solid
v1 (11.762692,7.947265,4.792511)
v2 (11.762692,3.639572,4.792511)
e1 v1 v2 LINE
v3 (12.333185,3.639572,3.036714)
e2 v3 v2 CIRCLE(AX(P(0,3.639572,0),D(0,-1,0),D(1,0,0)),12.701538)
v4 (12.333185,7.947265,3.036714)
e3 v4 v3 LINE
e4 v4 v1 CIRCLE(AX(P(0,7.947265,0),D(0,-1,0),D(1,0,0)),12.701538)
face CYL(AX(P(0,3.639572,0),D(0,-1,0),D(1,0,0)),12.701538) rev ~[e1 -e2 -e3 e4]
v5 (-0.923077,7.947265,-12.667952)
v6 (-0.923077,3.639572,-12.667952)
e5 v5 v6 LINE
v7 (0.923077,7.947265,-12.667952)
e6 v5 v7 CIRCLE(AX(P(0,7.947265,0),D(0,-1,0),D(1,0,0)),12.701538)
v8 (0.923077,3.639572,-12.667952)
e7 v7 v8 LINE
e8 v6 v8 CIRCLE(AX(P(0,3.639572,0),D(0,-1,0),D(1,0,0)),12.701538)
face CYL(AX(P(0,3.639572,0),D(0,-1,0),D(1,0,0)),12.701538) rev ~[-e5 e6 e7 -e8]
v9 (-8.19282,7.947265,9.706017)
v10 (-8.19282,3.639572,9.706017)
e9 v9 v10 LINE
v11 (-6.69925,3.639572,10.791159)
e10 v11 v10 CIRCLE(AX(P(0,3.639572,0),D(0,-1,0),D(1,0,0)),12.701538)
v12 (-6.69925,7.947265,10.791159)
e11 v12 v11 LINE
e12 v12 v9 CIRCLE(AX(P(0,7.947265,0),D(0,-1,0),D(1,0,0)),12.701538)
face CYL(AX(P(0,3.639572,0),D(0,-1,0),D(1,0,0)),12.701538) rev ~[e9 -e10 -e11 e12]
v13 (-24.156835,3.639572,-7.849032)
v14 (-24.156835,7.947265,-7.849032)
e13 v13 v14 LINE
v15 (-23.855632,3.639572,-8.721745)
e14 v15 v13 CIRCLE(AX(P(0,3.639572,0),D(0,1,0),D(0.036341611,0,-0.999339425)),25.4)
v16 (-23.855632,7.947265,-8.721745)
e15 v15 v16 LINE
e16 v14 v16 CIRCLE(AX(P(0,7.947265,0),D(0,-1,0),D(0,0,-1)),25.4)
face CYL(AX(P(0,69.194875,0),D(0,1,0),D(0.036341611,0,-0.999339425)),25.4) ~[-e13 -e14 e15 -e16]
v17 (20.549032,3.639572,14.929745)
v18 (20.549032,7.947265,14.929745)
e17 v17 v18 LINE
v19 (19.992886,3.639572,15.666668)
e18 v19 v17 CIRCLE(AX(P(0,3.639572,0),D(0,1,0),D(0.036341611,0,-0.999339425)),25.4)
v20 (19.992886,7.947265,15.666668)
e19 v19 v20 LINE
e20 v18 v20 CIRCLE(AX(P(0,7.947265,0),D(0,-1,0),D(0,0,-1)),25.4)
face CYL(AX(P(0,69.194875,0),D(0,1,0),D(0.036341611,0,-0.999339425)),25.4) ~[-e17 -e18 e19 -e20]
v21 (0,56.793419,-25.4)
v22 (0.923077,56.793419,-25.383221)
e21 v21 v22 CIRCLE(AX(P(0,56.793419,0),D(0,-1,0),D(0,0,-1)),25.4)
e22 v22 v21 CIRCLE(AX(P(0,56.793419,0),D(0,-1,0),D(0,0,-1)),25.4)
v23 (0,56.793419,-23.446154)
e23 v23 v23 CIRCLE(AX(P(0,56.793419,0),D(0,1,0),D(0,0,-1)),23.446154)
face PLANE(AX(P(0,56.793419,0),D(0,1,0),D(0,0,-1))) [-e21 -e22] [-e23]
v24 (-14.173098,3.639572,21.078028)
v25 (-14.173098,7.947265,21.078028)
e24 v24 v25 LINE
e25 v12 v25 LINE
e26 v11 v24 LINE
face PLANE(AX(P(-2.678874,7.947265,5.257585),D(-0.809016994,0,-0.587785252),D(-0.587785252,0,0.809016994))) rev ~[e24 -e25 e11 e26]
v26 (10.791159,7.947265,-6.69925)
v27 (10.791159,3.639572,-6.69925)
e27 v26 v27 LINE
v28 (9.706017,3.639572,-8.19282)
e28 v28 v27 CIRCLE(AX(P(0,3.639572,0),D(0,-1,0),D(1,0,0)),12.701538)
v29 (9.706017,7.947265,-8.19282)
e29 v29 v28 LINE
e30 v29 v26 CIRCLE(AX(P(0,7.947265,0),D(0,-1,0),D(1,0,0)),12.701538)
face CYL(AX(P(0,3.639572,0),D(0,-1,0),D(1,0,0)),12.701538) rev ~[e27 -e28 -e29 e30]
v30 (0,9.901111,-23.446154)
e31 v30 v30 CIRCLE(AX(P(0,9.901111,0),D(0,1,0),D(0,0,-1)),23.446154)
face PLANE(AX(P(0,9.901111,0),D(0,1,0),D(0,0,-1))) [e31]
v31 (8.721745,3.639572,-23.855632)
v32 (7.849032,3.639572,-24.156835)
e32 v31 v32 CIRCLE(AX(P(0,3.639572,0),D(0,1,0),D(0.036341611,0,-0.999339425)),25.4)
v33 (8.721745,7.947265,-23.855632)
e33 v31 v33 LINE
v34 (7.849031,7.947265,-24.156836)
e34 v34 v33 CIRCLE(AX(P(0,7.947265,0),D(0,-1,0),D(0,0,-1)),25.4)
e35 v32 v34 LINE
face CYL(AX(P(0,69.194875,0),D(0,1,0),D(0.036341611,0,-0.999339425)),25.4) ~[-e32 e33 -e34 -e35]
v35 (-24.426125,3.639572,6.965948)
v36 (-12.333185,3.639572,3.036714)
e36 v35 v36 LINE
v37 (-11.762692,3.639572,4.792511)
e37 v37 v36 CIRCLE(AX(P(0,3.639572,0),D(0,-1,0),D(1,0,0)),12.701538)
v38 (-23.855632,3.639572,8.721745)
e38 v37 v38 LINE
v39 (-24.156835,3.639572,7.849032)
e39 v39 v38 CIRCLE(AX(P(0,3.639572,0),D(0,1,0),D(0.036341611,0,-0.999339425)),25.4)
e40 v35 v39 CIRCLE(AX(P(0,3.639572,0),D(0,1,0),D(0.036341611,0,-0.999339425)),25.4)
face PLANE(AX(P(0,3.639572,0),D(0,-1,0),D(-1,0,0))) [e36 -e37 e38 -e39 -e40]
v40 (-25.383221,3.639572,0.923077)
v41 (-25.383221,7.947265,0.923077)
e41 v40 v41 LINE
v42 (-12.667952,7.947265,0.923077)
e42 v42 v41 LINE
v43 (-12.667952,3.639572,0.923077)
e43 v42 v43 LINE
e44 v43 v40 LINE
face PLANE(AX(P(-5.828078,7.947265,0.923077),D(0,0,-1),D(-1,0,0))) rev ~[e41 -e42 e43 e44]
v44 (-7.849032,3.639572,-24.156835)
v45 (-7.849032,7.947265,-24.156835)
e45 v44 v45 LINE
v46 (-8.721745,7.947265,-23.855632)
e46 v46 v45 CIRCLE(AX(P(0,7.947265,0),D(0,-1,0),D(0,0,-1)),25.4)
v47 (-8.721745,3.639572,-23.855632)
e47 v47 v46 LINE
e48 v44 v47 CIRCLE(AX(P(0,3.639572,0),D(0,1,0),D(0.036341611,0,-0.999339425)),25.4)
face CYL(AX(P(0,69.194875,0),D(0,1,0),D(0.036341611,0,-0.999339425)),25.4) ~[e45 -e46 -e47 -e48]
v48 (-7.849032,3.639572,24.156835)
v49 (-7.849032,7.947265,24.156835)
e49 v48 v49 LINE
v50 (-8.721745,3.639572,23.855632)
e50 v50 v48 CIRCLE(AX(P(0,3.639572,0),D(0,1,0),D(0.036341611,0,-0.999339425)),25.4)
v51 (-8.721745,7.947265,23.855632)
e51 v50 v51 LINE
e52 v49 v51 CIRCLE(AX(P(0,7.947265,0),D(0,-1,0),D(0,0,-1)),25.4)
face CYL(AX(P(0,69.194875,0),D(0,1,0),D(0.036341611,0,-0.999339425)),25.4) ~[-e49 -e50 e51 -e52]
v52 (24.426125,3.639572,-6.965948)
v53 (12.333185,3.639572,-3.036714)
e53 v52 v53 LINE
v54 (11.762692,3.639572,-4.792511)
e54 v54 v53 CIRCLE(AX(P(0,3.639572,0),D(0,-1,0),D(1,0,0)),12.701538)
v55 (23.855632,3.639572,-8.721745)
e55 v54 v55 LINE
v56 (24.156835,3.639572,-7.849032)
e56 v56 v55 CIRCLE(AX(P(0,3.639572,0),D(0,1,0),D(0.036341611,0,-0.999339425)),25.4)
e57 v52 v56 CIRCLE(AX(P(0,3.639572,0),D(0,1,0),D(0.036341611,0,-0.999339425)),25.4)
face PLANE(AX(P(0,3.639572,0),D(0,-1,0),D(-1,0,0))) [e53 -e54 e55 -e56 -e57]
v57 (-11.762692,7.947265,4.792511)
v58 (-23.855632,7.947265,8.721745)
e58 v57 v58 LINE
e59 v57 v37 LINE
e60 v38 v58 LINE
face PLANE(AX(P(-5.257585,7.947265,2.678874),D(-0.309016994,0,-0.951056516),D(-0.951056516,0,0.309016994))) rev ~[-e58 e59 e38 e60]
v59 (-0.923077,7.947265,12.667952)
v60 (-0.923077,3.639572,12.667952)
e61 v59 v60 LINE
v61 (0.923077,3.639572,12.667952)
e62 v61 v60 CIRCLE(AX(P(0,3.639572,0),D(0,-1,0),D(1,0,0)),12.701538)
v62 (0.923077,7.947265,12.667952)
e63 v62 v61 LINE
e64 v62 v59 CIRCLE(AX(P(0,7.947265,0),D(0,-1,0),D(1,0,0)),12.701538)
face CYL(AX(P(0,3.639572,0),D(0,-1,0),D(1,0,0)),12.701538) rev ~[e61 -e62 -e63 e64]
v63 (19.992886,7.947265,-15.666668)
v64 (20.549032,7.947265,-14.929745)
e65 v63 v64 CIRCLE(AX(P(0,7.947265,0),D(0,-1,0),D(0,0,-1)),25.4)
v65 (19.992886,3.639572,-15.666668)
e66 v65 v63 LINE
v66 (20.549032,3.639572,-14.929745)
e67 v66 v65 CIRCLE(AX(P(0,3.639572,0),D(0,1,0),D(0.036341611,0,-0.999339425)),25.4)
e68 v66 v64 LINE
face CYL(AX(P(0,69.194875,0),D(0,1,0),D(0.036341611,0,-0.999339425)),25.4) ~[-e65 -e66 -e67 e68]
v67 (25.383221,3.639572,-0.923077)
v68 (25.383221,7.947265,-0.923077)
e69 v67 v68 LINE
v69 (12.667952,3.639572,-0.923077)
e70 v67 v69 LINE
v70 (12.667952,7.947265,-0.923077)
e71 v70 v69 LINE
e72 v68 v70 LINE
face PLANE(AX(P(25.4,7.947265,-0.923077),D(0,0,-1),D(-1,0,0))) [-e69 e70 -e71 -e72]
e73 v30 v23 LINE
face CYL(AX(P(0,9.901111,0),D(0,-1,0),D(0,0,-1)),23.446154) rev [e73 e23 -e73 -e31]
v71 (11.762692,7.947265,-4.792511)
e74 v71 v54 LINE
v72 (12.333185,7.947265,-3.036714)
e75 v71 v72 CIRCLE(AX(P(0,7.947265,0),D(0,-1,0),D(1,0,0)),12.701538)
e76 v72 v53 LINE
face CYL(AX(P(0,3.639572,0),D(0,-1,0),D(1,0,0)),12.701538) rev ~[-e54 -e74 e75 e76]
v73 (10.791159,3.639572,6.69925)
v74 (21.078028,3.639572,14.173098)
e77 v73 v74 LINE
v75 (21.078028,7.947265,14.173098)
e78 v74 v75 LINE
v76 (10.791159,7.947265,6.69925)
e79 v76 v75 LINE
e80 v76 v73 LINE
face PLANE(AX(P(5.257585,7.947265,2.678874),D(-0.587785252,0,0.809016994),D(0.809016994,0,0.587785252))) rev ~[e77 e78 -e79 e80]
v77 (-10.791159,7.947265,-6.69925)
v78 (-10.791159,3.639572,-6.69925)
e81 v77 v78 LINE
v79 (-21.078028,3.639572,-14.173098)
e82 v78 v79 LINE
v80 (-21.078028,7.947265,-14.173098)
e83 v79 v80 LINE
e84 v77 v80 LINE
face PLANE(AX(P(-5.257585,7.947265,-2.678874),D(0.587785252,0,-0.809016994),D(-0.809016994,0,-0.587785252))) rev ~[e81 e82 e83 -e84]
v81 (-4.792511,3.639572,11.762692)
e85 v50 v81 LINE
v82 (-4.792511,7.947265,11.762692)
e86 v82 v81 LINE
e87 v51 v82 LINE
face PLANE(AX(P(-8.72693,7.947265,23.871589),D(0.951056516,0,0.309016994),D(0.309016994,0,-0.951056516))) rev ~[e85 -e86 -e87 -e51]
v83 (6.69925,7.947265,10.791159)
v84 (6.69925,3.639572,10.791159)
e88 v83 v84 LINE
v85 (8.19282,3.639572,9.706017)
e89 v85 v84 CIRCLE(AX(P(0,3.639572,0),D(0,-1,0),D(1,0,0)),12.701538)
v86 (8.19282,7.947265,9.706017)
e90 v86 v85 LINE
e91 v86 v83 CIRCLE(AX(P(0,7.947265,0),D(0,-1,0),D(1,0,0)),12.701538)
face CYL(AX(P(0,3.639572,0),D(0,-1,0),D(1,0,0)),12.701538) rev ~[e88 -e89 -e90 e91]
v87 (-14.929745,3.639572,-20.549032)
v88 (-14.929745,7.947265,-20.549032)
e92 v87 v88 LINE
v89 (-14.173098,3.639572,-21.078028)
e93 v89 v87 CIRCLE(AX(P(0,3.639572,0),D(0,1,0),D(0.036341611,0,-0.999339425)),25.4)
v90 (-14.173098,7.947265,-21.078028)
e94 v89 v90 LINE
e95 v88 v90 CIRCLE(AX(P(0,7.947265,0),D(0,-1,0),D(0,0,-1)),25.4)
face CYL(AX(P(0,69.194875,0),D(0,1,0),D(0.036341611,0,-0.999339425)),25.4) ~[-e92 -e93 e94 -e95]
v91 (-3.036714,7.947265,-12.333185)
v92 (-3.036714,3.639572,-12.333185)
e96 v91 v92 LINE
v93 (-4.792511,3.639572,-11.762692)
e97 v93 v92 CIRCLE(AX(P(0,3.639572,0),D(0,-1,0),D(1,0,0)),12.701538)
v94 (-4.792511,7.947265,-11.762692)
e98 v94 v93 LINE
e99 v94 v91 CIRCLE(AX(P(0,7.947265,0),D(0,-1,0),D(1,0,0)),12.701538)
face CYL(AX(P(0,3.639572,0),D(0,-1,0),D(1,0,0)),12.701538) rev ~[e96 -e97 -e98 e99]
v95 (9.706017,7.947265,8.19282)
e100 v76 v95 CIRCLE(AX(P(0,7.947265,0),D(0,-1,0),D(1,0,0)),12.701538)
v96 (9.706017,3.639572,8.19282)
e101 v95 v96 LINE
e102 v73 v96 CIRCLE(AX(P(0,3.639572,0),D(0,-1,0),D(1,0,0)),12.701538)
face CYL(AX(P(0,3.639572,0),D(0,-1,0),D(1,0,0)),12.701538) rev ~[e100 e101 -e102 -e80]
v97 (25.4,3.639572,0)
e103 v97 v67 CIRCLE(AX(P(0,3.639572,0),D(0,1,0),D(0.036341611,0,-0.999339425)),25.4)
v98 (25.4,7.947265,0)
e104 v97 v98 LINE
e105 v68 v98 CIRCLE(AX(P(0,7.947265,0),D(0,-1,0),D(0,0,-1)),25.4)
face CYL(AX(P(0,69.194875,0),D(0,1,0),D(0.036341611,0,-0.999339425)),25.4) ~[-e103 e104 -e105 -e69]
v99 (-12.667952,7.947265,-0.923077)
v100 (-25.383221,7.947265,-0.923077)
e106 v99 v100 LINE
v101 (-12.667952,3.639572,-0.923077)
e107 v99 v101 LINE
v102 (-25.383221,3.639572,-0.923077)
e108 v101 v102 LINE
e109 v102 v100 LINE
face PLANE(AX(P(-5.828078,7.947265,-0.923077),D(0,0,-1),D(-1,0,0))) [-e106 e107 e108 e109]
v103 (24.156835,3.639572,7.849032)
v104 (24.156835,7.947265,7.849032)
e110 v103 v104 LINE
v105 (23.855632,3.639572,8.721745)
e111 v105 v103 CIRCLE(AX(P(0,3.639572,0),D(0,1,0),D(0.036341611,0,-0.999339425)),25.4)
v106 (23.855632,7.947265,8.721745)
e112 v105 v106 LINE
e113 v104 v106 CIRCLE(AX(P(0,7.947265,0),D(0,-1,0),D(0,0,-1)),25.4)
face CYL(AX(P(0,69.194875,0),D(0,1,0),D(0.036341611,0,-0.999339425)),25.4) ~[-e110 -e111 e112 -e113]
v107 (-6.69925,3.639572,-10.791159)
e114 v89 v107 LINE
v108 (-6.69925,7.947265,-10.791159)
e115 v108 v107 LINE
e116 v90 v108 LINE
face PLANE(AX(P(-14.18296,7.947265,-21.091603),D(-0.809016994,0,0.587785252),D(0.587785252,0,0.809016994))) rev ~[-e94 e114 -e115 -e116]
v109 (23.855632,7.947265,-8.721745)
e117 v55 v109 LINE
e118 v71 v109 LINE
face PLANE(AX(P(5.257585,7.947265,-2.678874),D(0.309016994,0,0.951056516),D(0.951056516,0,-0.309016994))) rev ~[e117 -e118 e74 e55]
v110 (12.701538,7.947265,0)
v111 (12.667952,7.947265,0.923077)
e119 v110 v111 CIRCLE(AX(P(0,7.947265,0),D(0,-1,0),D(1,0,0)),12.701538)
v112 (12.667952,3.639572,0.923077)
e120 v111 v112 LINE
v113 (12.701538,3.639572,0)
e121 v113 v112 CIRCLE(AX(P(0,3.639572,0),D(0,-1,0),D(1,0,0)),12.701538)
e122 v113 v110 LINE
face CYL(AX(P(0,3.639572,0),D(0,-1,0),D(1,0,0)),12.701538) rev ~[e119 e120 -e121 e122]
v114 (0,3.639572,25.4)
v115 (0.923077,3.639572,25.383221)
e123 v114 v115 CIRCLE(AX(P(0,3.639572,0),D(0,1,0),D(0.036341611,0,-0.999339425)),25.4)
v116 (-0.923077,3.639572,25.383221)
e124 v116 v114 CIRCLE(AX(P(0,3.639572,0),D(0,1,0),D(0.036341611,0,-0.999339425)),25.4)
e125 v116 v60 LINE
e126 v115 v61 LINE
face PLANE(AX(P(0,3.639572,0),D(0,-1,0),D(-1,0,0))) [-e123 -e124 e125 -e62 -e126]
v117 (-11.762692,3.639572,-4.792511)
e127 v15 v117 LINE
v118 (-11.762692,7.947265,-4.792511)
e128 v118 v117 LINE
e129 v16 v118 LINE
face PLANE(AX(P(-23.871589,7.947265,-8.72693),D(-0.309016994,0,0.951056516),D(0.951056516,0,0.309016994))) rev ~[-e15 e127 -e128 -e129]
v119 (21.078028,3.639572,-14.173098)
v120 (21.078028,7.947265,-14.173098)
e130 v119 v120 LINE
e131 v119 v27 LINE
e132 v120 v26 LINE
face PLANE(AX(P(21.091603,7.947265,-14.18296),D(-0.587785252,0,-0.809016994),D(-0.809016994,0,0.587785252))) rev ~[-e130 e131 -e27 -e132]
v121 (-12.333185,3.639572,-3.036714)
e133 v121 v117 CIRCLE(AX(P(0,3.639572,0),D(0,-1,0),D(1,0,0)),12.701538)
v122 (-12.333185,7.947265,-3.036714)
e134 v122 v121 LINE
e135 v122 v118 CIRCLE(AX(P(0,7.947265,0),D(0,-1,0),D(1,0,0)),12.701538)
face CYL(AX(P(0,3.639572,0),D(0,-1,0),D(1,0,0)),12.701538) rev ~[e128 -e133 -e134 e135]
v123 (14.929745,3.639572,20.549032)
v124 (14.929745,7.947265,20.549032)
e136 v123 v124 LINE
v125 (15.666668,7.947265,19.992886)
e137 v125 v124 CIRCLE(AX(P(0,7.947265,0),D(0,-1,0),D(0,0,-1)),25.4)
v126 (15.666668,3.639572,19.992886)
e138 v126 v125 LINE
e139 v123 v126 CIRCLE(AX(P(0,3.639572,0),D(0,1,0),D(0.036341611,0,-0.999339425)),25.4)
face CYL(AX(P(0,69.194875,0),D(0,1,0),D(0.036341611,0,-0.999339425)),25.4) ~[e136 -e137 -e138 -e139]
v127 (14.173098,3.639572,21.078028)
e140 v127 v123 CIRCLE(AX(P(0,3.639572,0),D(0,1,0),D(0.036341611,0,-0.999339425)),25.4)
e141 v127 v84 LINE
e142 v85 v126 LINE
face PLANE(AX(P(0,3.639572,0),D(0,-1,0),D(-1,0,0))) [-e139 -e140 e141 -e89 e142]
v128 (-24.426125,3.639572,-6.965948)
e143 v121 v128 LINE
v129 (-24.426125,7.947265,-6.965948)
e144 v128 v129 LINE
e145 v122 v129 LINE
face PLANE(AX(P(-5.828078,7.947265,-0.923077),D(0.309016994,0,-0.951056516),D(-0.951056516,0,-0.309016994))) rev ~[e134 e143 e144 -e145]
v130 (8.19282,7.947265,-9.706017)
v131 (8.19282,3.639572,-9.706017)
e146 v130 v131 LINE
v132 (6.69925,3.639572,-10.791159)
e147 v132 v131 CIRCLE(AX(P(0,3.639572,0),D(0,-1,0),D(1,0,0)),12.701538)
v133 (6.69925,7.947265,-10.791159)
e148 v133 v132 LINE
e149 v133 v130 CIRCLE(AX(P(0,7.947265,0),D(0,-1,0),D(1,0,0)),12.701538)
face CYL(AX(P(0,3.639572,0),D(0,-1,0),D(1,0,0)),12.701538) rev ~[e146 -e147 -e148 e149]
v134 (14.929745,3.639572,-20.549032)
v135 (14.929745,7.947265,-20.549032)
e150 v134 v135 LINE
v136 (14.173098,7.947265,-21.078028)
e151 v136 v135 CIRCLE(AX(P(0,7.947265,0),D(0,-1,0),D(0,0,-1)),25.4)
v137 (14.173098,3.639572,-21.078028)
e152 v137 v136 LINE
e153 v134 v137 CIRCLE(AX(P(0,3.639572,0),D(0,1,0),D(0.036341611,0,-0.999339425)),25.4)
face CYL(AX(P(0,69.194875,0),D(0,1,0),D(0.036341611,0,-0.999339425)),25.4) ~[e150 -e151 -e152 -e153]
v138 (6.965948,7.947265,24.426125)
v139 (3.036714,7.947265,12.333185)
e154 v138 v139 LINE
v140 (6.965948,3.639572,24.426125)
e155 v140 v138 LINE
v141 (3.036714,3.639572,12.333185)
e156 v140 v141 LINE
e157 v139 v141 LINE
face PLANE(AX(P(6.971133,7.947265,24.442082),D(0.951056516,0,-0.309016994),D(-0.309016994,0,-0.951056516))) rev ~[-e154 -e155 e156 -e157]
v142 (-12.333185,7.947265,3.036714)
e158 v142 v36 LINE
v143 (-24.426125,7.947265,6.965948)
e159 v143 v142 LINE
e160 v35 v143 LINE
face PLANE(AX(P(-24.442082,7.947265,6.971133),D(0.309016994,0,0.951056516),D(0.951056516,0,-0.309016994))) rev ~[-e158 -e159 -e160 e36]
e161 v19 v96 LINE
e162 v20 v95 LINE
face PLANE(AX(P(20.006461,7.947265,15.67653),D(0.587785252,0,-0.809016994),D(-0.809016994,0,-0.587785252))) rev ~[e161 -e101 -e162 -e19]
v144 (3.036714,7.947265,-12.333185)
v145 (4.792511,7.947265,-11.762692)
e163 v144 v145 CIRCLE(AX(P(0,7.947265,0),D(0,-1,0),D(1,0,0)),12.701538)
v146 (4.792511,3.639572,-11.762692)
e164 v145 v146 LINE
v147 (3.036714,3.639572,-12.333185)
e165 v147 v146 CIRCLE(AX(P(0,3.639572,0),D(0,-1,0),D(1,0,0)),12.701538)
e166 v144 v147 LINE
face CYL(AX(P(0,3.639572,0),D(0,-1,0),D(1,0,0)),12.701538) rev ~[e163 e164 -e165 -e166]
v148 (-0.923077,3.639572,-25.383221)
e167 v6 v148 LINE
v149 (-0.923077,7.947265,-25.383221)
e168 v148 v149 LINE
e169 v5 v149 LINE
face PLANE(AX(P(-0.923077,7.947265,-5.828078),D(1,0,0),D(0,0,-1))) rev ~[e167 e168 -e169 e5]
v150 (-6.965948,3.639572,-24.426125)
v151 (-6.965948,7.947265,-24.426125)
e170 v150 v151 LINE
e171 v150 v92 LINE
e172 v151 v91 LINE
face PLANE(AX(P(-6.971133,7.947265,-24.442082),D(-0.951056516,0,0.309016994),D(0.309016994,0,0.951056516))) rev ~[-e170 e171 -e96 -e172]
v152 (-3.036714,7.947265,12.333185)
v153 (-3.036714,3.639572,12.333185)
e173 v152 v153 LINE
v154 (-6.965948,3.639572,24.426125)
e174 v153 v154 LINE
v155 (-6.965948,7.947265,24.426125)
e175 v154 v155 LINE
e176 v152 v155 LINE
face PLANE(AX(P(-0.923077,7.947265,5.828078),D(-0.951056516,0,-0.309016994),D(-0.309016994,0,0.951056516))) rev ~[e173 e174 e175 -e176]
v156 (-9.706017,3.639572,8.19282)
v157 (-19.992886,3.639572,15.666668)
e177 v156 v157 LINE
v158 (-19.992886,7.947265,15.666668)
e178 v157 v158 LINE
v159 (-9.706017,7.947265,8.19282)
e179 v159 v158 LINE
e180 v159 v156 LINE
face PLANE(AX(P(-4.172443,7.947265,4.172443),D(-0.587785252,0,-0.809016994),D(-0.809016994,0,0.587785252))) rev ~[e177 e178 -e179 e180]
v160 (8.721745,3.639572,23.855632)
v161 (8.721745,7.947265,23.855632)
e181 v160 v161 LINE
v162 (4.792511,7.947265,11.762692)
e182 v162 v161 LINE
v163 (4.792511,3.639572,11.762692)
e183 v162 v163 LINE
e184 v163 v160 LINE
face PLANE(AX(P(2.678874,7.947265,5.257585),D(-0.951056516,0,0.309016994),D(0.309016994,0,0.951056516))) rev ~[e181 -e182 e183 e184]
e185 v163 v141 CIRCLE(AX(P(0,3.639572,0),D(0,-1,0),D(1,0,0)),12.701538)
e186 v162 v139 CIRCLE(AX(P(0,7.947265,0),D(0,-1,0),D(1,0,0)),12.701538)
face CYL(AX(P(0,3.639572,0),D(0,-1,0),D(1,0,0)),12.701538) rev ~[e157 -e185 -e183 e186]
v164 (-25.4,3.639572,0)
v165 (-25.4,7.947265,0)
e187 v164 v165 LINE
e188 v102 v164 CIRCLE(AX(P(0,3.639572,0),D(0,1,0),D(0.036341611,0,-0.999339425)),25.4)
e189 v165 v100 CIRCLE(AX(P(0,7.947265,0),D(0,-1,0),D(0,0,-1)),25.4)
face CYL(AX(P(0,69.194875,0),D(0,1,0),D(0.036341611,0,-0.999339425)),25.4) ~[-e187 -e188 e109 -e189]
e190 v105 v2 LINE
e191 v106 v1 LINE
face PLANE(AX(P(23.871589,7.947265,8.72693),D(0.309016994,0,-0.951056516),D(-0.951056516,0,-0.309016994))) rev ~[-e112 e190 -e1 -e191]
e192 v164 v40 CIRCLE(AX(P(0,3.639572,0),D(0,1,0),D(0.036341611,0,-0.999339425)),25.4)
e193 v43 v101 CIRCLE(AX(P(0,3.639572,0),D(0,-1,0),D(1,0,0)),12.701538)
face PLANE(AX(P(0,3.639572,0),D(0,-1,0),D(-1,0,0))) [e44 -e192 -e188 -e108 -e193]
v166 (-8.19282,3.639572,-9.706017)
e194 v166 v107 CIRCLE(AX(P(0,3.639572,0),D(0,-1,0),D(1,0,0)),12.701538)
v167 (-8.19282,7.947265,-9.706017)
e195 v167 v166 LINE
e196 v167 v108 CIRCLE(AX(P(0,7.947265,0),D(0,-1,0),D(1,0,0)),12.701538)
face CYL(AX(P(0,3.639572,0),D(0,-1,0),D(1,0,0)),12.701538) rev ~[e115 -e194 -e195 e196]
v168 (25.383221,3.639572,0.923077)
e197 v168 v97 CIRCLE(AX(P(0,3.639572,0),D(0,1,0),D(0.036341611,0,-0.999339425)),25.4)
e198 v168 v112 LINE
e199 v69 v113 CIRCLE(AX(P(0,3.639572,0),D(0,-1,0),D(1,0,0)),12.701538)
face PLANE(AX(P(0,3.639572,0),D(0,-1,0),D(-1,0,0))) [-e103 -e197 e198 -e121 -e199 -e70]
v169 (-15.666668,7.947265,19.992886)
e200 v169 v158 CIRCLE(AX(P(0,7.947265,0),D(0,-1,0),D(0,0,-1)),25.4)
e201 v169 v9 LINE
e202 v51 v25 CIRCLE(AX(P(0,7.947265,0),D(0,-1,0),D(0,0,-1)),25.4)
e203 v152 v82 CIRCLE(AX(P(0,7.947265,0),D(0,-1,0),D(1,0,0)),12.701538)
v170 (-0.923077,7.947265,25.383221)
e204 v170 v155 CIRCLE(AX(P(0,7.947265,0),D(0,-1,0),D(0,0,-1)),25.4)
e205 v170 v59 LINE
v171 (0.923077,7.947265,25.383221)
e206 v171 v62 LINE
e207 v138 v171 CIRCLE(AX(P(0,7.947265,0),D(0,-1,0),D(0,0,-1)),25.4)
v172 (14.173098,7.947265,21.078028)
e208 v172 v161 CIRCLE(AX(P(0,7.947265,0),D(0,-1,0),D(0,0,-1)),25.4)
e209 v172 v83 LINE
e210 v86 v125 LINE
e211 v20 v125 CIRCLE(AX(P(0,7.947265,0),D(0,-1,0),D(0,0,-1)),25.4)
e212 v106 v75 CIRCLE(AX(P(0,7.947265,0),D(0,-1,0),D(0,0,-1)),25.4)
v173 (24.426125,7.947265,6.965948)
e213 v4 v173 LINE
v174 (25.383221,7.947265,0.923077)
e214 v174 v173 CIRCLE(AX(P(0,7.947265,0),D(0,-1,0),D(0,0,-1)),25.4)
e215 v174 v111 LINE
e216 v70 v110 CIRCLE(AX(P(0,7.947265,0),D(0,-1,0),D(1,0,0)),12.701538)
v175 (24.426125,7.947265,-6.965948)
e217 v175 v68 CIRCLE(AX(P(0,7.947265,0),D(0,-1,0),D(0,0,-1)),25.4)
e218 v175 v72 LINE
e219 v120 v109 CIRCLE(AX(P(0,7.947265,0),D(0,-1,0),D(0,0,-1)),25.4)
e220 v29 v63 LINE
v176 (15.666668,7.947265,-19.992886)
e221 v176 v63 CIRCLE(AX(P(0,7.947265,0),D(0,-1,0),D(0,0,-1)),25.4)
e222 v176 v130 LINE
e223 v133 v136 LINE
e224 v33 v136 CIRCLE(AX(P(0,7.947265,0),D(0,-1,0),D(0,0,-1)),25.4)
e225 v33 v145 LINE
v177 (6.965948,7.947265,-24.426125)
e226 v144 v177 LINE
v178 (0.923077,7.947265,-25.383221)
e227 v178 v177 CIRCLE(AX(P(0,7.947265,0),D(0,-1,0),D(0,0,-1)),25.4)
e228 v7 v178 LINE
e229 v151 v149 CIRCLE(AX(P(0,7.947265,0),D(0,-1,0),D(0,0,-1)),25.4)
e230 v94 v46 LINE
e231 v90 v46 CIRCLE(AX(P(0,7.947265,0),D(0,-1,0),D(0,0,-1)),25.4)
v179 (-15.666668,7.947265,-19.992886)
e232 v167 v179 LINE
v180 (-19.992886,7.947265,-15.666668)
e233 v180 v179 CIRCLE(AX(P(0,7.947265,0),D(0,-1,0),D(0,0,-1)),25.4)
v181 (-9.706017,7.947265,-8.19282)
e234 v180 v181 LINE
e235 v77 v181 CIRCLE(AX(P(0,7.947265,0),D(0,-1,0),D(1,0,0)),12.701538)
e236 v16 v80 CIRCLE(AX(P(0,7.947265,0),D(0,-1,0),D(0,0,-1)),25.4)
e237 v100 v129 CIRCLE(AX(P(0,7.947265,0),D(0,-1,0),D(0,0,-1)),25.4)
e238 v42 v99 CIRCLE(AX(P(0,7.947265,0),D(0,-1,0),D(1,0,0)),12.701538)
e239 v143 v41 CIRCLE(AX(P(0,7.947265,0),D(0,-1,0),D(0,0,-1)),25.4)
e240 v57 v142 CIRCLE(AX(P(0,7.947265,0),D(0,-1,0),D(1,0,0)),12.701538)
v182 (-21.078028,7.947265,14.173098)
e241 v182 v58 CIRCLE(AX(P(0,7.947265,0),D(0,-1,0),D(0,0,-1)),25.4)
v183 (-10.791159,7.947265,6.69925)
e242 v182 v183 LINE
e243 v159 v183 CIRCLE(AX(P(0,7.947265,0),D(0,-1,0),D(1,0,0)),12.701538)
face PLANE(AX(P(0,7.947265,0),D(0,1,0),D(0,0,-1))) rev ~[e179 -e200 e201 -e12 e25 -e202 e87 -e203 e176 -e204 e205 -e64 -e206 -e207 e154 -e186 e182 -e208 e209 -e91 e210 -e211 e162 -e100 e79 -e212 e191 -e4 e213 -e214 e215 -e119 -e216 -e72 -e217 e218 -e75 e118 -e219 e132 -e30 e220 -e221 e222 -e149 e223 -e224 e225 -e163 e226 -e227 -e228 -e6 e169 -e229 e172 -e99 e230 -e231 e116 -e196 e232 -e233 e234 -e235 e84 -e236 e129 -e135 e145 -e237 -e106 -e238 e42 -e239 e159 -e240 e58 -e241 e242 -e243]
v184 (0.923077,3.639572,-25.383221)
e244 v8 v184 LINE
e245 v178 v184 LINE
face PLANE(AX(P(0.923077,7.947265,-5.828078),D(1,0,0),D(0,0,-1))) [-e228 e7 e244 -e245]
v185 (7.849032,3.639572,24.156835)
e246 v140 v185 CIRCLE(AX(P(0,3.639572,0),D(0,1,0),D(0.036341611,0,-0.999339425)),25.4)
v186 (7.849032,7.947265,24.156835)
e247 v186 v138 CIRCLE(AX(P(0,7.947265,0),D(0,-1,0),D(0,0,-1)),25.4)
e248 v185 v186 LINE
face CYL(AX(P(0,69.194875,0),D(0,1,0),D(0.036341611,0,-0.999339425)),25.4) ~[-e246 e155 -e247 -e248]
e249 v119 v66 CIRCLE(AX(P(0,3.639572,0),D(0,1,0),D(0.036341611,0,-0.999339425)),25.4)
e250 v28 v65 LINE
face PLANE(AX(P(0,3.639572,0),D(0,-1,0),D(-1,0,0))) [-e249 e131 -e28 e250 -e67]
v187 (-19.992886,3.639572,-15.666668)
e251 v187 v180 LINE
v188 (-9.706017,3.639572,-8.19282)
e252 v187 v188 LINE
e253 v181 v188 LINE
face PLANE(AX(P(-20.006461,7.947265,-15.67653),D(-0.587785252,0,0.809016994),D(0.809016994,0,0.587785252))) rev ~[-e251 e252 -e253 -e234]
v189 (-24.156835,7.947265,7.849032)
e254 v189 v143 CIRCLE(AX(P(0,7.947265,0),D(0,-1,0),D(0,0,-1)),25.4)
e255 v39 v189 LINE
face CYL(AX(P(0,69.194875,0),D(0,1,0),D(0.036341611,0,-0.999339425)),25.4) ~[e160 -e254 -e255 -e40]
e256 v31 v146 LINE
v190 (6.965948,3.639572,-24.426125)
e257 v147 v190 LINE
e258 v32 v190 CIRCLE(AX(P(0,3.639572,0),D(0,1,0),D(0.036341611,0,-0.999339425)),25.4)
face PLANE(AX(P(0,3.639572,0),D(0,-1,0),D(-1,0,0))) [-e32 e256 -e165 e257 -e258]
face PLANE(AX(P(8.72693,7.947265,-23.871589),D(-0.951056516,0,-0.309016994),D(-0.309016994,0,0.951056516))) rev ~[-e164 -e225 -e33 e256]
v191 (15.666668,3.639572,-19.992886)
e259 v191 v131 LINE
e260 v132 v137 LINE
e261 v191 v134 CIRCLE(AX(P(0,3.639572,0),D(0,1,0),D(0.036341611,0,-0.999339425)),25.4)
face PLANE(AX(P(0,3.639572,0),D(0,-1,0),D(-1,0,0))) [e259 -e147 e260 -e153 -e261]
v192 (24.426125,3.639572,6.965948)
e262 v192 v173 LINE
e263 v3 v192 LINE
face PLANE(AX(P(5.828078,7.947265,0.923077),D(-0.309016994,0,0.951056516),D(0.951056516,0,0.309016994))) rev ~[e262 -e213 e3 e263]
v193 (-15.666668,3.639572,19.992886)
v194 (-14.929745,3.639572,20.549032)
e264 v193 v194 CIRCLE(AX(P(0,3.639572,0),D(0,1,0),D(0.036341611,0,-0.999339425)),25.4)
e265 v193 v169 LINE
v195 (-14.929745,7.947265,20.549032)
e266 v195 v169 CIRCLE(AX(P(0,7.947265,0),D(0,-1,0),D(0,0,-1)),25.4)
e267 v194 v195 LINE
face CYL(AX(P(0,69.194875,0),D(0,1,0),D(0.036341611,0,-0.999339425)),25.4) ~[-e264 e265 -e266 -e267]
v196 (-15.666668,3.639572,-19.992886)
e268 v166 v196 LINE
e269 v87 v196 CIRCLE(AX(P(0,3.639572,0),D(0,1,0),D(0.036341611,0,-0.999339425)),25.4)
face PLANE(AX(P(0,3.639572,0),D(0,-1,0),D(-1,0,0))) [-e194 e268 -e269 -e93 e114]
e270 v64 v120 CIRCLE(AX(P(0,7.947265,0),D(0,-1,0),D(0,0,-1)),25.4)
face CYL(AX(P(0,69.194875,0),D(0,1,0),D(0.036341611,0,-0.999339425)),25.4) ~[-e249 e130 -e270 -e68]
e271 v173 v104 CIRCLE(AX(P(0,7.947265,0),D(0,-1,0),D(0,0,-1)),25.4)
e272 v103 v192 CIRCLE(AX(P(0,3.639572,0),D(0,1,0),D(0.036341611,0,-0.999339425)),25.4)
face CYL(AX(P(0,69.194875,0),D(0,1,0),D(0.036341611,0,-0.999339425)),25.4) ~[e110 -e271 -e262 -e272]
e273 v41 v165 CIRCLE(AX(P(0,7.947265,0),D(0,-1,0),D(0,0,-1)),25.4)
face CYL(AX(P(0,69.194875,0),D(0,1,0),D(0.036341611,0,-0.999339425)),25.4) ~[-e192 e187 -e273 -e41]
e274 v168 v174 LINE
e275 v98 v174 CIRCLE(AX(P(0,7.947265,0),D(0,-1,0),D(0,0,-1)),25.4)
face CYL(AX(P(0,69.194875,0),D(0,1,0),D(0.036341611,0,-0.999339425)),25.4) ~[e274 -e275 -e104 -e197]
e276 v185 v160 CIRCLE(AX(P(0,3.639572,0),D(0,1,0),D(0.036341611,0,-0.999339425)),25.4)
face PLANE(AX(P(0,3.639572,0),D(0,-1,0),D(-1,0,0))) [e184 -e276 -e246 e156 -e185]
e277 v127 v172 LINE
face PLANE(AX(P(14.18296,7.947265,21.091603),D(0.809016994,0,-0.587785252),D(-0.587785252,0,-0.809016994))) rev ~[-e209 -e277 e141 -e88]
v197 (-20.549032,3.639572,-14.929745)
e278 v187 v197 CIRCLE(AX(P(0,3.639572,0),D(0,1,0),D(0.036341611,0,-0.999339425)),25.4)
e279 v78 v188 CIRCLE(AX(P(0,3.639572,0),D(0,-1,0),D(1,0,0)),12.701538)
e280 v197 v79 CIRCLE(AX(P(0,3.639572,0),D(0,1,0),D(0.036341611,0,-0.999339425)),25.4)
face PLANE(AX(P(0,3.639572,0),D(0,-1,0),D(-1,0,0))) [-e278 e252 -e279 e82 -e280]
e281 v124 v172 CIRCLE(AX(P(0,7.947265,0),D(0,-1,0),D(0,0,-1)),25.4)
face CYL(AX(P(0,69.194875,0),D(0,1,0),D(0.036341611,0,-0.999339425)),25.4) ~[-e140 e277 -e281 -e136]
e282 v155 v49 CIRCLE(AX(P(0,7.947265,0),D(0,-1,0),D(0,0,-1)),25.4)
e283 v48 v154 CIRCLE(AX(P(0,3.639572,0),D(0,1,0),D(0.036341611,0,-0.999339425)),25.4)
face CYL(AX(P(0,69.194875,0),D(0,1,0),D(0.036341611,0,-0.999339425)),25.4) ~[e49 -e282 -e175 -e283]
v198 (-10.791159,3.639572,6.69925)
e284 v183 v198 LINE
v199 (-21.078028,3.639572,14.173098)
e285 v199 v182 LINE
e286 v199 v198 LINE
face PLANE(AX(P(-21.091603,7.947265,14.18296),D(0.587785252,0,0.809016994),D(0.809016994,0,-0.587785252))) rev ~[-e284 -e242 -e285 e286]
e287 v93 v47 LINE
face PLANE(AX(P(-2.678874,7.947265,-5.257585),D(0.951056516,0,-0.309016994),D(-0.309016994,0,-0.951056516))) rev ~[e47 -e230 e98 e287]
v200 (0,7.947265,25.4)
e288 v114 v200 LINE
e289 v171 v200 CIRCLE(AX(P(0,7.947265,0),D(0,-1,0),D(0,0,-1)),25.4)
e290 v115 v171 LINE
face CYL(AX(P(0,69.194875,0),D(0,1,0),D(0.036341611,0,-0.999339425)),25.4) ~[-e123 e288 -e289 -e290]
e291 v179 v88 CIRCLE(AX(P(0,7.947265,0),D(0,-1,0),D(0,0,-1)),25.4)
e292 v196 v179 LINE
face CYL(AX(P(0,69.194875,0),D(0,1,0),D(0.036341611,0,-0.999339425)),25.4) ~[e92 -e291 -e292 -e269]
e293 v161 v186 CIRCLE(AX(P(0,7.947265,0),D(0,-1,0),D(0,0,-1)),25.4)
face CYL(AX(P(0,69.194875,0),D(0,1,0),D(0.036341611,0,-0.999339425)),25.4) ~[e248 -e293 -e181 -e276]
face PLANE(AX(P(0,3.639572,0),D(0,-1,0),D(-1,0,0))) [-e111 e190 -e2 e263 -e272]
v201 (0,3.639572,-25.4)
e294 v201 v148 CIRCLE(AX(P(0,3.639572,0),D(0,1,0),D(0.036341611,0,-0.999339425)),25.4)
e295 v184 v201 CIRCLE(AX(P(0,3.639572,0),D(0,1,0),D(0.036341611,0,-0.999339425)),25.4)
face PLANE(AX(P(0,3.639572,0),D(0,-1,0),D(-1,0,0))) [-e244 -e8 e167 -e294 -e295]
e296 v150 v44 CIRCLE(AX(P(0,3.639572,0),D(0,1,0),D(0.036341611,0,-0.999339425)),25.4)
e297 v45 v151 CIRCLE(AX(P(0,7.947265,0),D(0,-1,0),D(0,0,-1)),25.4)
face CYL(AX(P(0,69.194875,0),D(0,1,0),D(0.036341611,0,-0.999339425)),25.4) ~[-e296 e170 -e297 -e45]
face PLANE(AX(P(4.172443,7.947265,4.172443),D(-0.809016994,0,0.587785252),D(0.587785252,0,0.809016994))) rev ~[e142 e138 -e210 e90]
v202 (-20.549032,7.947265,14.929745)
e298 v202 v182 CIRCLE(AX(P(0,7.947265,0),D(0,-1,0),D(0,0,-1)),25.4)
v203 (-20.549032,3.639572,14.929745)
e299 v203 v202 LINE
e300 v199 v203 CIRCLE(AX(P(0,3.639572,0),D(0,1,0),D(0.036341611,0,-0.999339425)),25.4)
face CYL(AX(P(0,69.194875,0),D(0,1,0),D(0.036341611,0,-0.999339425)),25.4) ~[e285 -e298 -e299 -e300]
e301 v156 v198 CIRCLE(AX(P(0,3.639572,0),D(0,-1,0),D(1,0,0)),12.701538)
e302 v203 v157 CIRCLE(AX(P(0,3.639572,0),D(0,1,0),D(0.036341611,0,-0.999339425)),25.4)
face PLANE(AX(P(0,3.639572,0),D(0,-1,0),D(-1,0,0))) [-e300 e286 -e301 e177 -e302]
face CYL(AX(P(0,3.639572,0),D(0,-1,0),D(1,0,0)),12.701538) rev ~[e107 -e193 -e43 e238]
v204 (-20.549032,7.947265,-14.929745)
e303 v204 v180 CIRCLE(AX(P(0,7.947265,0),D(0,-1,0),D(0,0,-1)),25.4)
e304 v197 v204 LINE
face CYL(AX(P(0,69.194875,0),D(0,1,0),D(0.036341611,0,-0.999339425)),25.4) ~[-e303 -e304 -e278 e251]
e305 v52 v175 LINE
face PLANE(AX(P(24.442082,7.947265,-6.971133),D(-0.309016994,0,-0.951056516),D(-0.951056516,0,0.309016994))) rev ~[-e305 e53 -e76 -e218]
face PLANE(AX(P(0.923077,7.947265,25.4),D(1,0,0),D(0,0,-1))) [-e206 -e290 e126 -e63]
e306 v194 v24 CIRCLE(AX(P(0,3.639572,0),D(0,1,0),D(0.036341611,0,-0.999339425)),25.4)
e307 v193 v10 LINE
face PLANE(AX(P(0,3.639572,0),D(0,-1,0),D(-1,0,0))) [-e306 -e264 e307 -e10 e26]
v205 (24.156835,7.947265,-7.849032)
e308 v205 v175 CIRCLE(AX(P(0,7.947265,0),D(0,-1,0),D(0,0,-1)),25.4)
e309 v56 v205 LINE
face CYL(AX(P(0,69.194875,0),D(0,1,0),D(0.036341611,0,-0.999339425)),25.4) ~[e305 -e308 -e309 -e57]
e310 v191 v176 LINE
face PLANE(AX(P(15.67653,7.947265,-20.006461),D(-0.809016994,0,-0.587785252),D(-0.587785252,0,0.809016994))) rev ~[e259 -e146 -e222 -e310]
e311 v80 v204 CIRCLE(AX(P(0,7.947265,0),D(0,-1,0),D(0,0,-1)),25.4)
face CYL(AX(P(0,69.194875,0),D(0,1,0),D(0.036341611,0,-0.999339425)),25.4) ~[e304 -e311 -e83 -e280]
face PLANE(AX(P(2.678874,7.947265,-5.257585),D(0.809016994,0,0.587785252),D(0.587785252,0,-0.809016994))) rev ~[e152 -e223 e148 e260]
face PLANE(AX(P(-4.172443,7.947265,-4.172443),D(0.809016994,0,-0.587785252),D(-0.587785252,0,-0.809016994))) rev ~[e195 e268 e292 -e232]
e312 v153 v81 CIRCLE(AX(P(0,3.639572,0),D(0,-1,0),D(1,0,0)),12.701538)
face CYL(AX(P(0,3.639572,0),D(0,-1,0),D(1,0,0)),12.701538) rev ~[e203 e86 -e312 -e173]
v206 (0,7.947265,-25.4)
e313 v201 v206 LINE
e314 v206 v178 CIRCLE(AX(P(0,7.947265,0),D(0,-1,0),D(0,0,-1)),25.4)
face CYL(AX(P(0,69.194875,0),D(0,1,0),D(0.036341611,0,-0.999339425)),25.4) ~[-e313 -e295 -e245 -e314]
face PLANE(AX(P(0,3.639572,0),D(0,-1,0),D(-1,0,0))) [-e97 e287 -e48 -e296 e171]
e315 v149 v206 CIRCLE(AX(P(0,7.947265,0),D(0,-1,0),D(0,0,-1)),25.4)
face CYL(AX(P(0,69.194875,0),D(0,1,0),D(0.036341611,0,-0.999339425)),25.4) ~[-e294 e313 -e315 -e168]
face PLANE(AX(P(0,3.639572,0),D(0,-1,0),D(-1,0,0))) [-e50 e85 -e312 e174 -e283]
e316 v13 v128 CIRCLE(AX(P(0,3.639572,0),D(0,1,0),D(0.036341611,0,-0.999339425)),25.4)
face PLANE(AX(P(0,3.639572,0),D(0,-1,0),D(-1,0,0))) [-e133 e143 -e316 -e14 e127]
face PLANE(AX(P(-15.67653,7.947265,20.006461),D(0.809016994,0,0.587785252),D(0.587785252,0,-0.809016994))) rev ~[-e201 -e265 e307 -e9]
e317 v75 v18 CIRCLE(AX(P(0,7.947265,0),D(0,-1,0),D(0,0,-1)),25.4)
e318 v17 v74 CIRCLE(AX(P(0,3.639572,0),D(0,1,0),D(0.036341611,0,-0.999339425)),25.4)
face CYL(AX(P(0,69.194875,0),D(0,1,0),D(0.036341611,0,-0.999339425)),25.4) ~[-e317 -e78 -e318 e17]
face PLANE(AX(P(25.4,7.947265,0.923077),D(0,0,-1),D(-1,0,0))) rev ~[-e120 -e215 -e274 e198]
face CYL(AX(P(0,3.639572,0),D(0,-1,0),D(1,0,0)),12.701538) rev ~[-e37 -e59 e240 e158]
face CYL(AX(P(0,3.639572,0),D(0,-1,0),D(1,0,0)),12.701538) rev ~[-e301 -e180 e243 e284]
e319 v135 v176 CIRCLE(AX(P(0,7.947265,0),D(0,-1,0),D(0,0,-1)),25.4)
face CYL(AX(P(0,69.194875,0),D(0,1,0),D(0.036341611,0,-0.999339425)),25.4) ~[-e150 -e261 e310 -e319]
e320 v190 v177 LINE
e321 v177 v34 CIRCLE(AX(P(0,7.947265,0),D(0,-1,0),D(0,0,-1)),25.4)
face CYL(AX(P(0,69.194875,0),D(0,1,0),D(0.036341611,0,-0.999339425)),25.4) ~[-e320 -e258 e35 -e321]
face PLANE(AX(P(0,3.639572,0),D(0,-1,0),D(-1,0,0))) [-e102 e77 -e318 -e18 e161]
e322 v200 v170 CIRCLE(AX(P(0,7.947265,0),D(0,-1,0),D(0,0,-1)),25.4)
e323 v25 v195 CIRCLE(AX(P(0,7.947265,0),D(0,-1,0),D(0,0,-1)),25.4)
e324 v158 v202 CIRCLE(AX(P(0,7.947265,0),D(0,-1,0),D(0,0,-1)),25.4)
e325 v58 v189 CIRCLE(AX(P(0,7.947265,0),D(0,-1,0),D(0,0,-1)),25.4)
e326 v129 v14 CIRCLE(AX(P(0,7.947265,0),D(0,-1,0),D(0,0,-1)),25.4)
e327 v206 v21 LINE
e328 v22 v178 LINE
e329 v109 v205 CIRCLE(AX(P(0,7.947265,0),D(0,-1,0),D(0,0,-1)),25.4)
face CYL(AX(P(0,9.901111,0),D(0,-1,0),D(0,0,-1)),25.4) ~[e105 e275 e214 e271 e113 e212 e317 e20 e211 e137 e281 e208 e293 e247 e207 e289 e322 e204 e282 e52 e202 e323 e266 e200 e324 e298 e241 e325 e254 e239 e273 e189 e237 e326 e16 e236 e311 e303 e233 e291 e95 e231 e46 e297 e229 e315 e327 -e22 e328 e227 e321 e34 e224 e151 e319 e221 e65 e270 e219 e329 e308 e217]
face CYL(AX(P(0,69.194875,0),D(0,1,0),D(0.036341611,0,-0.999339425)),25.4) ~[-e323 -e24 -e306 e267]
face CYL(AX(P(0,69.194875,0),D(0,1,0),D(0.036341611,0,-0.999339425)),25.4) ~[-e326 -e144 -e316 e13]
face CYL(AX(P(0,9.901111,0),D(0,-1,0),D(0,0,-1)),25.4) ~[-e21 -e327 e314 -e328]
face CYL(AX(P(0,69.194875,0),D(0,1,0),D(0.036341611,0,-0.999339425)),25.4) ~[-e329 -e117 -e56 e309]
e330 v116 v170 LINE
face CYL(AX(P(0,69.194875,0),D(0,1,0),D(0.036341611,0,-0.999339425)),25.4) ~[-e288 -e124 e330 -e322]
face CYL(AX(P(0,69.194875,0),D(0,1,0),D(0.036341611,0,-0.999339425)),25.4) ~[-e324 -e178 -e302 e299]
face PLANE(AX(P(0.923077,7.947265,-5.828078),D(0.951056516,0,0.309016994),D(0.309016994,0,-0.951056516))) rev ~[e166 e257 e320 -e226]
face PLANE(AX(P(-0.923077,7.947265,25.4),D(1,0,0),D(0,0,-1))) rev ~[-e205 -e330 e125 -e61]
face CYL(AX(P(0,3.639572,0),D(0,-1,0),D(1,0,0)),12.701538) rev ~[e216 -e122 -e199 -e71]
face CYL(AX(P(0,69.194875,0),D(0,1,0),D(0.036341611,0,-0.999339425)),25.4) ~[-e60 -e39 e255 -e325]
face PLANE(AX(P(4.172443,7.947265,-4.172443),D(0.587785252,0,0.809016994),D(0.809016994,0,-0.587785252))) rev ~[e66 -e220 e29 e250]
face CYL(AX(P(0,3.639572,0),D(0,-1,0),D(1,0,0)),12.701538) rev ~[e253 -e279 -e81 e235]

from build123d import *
from build123d.topology import SkipClean

# Parameters (mm, degrees)
SKETCH1_R               = 38.1
BOSS_EXTRUDE1_DEPTH     = 76.2
SHELL2_T                = 3.175
SKETCH2_W               = 3
SKETCH2_H               = 82.55
SKETCH2_W_2             = 82.55
SKETCH2_H_2             = 3
BOSS_EXTRUDE2_DEPTH     = 7
CUT_EXTRUDE1_DEPTH      = 99.527366122
CUT_EXTRUDE1_DEPTH_BACK = 99.527366122
SKETCH3_R               = 61.906276858
SKETCH3_R_2             = 41.275
SKETCH4_R               = 20.64
CUT_EXTRUDE2_DEPTH      = 7
SCALE1_SCALE            = 0.615384615


with BuildPart() as part:
    # Sketch1 → Boss-Extrude1 (new body)
    with BuildSketch(Plane(origin=(0, 0, 0), x_dir=(1, 0, 0), z_dir=(0, 1, 0))):
        with Locations(Location((0, 0, 0), (0, 0, 90))):
            Circle(SKETCH1_R)
    extrude(amount=BOSS_EXTRUDE1_DEPTH)

    # Shell2
    shell2_openings = [part.faces().sort_by_distance(p)[0] for p in [
        (0, 76.2, 0),
    ]]
    offset(amount=SHELL2_T, openings=shell2_openings, kind=Kind.INTERSECTION)

    # Sketch2 → Boss-Extrude2 (add)
    with BuildSketch(Plane(origin=(0, -3.175, 0), x_dir=(-1, 0, 0), z_dir=(0, -1, 0))):
        Rectangle(SKETCH2_W, SKETCH2_H)
        Polygon((-23.047310797, -34.273854321), (25.47436178, 32.510498564), (23.047310797, 34.273854321), (-25.47436178, -32.510498564), align=None)
        Polygon((-38.791332219, -14.181261217), (39.718383202, 11.328091668), (38.791332219, 14.181261217), (-39.718383202, -11.328091668), align=None)
        Polygon((-39.718383202, 11.328091668), (38.791332219, -14.181261217), (39.718383202, -11.328091668), (-38.791332219, 14.181261217), align=None)
        Polygon((-25.47436178, 32.510498564), (23.047310797, -34.273854321), (25.47436178, -32.510498564), (-23.047310797, 34.273854321), align=None)
        Polygon((-14.181261217, 38.791332219), (11.328091668, -39.718383202), (14.181261217, -38.791332219), (-11.328091668, 39.718383202), align=None)
        Polygon((11.328091668, 39.718383202), (-14.181261217, -38.791332219), (-11.328091668, -39.718383202), (14.181261217, 38.791332219), align=None)
        Polygon((32.510498564, 25.47436178), (-34.273854321, -23.047310797), (-32.510498564, -25.47436178), (34.273854321, 23.047310797), align=None)
        Rectangle(SKETCH2_W_2, SKETCH2_H_2)
        Polygon((-34.273854321, 23.047310797), (32.510498564, -25.47436178), (34.273854321, -23.047310797), (-32.510498564, 25.47436178), align=None)
    extrude(amount=BOSS_EXTRUDE2_DEPTH)

    # Sketch3 → Cut-Extrude1 (cut, two sides: drawn at the far end of the back side and taken through both)
    with SkipClean():  # the faces are left unmerged after this step: merging them gives an invalid solid
        with BuildSketch(Plane.XZ.offset(3.175).offset(-CUT_EXTRUDE1_DEPTH_BACK)):
            Circle(SKETCH3_R)
            with Locations(Location((0, 0, 0), (0, 0, 272.082679548))):
                Circle(SKETCH3_R_2, mode=Mode.SUBTRACT)
        extrude(amount=CUT_EXTRUDE1_DEPTH + CUT_EXTRUDE1_DEPTH_BACK, mode=Mode.SUBTRACT)

    # Sketch4 → Cut-Extrude2 (cut)
    with SkipClean():  # the faces are left unmerged after this step: merging them gives an invalid solid
        with BuildSketch(Plane.XZ.offset(10.175)):
            Circle(SKETCH4_R)
        extrude(amount=-CUT_EXTRUDE2_DEPTH, mode=Mode.SUBTRACT)


with BuildPart() as part_1:
    # Scale1: scaled about (0, 25.742888467, 0)
    add(part.part.scale(SCALE1_SCALE).moved(Location((0, 9.901110949, 0))))


solid = part_1.part
